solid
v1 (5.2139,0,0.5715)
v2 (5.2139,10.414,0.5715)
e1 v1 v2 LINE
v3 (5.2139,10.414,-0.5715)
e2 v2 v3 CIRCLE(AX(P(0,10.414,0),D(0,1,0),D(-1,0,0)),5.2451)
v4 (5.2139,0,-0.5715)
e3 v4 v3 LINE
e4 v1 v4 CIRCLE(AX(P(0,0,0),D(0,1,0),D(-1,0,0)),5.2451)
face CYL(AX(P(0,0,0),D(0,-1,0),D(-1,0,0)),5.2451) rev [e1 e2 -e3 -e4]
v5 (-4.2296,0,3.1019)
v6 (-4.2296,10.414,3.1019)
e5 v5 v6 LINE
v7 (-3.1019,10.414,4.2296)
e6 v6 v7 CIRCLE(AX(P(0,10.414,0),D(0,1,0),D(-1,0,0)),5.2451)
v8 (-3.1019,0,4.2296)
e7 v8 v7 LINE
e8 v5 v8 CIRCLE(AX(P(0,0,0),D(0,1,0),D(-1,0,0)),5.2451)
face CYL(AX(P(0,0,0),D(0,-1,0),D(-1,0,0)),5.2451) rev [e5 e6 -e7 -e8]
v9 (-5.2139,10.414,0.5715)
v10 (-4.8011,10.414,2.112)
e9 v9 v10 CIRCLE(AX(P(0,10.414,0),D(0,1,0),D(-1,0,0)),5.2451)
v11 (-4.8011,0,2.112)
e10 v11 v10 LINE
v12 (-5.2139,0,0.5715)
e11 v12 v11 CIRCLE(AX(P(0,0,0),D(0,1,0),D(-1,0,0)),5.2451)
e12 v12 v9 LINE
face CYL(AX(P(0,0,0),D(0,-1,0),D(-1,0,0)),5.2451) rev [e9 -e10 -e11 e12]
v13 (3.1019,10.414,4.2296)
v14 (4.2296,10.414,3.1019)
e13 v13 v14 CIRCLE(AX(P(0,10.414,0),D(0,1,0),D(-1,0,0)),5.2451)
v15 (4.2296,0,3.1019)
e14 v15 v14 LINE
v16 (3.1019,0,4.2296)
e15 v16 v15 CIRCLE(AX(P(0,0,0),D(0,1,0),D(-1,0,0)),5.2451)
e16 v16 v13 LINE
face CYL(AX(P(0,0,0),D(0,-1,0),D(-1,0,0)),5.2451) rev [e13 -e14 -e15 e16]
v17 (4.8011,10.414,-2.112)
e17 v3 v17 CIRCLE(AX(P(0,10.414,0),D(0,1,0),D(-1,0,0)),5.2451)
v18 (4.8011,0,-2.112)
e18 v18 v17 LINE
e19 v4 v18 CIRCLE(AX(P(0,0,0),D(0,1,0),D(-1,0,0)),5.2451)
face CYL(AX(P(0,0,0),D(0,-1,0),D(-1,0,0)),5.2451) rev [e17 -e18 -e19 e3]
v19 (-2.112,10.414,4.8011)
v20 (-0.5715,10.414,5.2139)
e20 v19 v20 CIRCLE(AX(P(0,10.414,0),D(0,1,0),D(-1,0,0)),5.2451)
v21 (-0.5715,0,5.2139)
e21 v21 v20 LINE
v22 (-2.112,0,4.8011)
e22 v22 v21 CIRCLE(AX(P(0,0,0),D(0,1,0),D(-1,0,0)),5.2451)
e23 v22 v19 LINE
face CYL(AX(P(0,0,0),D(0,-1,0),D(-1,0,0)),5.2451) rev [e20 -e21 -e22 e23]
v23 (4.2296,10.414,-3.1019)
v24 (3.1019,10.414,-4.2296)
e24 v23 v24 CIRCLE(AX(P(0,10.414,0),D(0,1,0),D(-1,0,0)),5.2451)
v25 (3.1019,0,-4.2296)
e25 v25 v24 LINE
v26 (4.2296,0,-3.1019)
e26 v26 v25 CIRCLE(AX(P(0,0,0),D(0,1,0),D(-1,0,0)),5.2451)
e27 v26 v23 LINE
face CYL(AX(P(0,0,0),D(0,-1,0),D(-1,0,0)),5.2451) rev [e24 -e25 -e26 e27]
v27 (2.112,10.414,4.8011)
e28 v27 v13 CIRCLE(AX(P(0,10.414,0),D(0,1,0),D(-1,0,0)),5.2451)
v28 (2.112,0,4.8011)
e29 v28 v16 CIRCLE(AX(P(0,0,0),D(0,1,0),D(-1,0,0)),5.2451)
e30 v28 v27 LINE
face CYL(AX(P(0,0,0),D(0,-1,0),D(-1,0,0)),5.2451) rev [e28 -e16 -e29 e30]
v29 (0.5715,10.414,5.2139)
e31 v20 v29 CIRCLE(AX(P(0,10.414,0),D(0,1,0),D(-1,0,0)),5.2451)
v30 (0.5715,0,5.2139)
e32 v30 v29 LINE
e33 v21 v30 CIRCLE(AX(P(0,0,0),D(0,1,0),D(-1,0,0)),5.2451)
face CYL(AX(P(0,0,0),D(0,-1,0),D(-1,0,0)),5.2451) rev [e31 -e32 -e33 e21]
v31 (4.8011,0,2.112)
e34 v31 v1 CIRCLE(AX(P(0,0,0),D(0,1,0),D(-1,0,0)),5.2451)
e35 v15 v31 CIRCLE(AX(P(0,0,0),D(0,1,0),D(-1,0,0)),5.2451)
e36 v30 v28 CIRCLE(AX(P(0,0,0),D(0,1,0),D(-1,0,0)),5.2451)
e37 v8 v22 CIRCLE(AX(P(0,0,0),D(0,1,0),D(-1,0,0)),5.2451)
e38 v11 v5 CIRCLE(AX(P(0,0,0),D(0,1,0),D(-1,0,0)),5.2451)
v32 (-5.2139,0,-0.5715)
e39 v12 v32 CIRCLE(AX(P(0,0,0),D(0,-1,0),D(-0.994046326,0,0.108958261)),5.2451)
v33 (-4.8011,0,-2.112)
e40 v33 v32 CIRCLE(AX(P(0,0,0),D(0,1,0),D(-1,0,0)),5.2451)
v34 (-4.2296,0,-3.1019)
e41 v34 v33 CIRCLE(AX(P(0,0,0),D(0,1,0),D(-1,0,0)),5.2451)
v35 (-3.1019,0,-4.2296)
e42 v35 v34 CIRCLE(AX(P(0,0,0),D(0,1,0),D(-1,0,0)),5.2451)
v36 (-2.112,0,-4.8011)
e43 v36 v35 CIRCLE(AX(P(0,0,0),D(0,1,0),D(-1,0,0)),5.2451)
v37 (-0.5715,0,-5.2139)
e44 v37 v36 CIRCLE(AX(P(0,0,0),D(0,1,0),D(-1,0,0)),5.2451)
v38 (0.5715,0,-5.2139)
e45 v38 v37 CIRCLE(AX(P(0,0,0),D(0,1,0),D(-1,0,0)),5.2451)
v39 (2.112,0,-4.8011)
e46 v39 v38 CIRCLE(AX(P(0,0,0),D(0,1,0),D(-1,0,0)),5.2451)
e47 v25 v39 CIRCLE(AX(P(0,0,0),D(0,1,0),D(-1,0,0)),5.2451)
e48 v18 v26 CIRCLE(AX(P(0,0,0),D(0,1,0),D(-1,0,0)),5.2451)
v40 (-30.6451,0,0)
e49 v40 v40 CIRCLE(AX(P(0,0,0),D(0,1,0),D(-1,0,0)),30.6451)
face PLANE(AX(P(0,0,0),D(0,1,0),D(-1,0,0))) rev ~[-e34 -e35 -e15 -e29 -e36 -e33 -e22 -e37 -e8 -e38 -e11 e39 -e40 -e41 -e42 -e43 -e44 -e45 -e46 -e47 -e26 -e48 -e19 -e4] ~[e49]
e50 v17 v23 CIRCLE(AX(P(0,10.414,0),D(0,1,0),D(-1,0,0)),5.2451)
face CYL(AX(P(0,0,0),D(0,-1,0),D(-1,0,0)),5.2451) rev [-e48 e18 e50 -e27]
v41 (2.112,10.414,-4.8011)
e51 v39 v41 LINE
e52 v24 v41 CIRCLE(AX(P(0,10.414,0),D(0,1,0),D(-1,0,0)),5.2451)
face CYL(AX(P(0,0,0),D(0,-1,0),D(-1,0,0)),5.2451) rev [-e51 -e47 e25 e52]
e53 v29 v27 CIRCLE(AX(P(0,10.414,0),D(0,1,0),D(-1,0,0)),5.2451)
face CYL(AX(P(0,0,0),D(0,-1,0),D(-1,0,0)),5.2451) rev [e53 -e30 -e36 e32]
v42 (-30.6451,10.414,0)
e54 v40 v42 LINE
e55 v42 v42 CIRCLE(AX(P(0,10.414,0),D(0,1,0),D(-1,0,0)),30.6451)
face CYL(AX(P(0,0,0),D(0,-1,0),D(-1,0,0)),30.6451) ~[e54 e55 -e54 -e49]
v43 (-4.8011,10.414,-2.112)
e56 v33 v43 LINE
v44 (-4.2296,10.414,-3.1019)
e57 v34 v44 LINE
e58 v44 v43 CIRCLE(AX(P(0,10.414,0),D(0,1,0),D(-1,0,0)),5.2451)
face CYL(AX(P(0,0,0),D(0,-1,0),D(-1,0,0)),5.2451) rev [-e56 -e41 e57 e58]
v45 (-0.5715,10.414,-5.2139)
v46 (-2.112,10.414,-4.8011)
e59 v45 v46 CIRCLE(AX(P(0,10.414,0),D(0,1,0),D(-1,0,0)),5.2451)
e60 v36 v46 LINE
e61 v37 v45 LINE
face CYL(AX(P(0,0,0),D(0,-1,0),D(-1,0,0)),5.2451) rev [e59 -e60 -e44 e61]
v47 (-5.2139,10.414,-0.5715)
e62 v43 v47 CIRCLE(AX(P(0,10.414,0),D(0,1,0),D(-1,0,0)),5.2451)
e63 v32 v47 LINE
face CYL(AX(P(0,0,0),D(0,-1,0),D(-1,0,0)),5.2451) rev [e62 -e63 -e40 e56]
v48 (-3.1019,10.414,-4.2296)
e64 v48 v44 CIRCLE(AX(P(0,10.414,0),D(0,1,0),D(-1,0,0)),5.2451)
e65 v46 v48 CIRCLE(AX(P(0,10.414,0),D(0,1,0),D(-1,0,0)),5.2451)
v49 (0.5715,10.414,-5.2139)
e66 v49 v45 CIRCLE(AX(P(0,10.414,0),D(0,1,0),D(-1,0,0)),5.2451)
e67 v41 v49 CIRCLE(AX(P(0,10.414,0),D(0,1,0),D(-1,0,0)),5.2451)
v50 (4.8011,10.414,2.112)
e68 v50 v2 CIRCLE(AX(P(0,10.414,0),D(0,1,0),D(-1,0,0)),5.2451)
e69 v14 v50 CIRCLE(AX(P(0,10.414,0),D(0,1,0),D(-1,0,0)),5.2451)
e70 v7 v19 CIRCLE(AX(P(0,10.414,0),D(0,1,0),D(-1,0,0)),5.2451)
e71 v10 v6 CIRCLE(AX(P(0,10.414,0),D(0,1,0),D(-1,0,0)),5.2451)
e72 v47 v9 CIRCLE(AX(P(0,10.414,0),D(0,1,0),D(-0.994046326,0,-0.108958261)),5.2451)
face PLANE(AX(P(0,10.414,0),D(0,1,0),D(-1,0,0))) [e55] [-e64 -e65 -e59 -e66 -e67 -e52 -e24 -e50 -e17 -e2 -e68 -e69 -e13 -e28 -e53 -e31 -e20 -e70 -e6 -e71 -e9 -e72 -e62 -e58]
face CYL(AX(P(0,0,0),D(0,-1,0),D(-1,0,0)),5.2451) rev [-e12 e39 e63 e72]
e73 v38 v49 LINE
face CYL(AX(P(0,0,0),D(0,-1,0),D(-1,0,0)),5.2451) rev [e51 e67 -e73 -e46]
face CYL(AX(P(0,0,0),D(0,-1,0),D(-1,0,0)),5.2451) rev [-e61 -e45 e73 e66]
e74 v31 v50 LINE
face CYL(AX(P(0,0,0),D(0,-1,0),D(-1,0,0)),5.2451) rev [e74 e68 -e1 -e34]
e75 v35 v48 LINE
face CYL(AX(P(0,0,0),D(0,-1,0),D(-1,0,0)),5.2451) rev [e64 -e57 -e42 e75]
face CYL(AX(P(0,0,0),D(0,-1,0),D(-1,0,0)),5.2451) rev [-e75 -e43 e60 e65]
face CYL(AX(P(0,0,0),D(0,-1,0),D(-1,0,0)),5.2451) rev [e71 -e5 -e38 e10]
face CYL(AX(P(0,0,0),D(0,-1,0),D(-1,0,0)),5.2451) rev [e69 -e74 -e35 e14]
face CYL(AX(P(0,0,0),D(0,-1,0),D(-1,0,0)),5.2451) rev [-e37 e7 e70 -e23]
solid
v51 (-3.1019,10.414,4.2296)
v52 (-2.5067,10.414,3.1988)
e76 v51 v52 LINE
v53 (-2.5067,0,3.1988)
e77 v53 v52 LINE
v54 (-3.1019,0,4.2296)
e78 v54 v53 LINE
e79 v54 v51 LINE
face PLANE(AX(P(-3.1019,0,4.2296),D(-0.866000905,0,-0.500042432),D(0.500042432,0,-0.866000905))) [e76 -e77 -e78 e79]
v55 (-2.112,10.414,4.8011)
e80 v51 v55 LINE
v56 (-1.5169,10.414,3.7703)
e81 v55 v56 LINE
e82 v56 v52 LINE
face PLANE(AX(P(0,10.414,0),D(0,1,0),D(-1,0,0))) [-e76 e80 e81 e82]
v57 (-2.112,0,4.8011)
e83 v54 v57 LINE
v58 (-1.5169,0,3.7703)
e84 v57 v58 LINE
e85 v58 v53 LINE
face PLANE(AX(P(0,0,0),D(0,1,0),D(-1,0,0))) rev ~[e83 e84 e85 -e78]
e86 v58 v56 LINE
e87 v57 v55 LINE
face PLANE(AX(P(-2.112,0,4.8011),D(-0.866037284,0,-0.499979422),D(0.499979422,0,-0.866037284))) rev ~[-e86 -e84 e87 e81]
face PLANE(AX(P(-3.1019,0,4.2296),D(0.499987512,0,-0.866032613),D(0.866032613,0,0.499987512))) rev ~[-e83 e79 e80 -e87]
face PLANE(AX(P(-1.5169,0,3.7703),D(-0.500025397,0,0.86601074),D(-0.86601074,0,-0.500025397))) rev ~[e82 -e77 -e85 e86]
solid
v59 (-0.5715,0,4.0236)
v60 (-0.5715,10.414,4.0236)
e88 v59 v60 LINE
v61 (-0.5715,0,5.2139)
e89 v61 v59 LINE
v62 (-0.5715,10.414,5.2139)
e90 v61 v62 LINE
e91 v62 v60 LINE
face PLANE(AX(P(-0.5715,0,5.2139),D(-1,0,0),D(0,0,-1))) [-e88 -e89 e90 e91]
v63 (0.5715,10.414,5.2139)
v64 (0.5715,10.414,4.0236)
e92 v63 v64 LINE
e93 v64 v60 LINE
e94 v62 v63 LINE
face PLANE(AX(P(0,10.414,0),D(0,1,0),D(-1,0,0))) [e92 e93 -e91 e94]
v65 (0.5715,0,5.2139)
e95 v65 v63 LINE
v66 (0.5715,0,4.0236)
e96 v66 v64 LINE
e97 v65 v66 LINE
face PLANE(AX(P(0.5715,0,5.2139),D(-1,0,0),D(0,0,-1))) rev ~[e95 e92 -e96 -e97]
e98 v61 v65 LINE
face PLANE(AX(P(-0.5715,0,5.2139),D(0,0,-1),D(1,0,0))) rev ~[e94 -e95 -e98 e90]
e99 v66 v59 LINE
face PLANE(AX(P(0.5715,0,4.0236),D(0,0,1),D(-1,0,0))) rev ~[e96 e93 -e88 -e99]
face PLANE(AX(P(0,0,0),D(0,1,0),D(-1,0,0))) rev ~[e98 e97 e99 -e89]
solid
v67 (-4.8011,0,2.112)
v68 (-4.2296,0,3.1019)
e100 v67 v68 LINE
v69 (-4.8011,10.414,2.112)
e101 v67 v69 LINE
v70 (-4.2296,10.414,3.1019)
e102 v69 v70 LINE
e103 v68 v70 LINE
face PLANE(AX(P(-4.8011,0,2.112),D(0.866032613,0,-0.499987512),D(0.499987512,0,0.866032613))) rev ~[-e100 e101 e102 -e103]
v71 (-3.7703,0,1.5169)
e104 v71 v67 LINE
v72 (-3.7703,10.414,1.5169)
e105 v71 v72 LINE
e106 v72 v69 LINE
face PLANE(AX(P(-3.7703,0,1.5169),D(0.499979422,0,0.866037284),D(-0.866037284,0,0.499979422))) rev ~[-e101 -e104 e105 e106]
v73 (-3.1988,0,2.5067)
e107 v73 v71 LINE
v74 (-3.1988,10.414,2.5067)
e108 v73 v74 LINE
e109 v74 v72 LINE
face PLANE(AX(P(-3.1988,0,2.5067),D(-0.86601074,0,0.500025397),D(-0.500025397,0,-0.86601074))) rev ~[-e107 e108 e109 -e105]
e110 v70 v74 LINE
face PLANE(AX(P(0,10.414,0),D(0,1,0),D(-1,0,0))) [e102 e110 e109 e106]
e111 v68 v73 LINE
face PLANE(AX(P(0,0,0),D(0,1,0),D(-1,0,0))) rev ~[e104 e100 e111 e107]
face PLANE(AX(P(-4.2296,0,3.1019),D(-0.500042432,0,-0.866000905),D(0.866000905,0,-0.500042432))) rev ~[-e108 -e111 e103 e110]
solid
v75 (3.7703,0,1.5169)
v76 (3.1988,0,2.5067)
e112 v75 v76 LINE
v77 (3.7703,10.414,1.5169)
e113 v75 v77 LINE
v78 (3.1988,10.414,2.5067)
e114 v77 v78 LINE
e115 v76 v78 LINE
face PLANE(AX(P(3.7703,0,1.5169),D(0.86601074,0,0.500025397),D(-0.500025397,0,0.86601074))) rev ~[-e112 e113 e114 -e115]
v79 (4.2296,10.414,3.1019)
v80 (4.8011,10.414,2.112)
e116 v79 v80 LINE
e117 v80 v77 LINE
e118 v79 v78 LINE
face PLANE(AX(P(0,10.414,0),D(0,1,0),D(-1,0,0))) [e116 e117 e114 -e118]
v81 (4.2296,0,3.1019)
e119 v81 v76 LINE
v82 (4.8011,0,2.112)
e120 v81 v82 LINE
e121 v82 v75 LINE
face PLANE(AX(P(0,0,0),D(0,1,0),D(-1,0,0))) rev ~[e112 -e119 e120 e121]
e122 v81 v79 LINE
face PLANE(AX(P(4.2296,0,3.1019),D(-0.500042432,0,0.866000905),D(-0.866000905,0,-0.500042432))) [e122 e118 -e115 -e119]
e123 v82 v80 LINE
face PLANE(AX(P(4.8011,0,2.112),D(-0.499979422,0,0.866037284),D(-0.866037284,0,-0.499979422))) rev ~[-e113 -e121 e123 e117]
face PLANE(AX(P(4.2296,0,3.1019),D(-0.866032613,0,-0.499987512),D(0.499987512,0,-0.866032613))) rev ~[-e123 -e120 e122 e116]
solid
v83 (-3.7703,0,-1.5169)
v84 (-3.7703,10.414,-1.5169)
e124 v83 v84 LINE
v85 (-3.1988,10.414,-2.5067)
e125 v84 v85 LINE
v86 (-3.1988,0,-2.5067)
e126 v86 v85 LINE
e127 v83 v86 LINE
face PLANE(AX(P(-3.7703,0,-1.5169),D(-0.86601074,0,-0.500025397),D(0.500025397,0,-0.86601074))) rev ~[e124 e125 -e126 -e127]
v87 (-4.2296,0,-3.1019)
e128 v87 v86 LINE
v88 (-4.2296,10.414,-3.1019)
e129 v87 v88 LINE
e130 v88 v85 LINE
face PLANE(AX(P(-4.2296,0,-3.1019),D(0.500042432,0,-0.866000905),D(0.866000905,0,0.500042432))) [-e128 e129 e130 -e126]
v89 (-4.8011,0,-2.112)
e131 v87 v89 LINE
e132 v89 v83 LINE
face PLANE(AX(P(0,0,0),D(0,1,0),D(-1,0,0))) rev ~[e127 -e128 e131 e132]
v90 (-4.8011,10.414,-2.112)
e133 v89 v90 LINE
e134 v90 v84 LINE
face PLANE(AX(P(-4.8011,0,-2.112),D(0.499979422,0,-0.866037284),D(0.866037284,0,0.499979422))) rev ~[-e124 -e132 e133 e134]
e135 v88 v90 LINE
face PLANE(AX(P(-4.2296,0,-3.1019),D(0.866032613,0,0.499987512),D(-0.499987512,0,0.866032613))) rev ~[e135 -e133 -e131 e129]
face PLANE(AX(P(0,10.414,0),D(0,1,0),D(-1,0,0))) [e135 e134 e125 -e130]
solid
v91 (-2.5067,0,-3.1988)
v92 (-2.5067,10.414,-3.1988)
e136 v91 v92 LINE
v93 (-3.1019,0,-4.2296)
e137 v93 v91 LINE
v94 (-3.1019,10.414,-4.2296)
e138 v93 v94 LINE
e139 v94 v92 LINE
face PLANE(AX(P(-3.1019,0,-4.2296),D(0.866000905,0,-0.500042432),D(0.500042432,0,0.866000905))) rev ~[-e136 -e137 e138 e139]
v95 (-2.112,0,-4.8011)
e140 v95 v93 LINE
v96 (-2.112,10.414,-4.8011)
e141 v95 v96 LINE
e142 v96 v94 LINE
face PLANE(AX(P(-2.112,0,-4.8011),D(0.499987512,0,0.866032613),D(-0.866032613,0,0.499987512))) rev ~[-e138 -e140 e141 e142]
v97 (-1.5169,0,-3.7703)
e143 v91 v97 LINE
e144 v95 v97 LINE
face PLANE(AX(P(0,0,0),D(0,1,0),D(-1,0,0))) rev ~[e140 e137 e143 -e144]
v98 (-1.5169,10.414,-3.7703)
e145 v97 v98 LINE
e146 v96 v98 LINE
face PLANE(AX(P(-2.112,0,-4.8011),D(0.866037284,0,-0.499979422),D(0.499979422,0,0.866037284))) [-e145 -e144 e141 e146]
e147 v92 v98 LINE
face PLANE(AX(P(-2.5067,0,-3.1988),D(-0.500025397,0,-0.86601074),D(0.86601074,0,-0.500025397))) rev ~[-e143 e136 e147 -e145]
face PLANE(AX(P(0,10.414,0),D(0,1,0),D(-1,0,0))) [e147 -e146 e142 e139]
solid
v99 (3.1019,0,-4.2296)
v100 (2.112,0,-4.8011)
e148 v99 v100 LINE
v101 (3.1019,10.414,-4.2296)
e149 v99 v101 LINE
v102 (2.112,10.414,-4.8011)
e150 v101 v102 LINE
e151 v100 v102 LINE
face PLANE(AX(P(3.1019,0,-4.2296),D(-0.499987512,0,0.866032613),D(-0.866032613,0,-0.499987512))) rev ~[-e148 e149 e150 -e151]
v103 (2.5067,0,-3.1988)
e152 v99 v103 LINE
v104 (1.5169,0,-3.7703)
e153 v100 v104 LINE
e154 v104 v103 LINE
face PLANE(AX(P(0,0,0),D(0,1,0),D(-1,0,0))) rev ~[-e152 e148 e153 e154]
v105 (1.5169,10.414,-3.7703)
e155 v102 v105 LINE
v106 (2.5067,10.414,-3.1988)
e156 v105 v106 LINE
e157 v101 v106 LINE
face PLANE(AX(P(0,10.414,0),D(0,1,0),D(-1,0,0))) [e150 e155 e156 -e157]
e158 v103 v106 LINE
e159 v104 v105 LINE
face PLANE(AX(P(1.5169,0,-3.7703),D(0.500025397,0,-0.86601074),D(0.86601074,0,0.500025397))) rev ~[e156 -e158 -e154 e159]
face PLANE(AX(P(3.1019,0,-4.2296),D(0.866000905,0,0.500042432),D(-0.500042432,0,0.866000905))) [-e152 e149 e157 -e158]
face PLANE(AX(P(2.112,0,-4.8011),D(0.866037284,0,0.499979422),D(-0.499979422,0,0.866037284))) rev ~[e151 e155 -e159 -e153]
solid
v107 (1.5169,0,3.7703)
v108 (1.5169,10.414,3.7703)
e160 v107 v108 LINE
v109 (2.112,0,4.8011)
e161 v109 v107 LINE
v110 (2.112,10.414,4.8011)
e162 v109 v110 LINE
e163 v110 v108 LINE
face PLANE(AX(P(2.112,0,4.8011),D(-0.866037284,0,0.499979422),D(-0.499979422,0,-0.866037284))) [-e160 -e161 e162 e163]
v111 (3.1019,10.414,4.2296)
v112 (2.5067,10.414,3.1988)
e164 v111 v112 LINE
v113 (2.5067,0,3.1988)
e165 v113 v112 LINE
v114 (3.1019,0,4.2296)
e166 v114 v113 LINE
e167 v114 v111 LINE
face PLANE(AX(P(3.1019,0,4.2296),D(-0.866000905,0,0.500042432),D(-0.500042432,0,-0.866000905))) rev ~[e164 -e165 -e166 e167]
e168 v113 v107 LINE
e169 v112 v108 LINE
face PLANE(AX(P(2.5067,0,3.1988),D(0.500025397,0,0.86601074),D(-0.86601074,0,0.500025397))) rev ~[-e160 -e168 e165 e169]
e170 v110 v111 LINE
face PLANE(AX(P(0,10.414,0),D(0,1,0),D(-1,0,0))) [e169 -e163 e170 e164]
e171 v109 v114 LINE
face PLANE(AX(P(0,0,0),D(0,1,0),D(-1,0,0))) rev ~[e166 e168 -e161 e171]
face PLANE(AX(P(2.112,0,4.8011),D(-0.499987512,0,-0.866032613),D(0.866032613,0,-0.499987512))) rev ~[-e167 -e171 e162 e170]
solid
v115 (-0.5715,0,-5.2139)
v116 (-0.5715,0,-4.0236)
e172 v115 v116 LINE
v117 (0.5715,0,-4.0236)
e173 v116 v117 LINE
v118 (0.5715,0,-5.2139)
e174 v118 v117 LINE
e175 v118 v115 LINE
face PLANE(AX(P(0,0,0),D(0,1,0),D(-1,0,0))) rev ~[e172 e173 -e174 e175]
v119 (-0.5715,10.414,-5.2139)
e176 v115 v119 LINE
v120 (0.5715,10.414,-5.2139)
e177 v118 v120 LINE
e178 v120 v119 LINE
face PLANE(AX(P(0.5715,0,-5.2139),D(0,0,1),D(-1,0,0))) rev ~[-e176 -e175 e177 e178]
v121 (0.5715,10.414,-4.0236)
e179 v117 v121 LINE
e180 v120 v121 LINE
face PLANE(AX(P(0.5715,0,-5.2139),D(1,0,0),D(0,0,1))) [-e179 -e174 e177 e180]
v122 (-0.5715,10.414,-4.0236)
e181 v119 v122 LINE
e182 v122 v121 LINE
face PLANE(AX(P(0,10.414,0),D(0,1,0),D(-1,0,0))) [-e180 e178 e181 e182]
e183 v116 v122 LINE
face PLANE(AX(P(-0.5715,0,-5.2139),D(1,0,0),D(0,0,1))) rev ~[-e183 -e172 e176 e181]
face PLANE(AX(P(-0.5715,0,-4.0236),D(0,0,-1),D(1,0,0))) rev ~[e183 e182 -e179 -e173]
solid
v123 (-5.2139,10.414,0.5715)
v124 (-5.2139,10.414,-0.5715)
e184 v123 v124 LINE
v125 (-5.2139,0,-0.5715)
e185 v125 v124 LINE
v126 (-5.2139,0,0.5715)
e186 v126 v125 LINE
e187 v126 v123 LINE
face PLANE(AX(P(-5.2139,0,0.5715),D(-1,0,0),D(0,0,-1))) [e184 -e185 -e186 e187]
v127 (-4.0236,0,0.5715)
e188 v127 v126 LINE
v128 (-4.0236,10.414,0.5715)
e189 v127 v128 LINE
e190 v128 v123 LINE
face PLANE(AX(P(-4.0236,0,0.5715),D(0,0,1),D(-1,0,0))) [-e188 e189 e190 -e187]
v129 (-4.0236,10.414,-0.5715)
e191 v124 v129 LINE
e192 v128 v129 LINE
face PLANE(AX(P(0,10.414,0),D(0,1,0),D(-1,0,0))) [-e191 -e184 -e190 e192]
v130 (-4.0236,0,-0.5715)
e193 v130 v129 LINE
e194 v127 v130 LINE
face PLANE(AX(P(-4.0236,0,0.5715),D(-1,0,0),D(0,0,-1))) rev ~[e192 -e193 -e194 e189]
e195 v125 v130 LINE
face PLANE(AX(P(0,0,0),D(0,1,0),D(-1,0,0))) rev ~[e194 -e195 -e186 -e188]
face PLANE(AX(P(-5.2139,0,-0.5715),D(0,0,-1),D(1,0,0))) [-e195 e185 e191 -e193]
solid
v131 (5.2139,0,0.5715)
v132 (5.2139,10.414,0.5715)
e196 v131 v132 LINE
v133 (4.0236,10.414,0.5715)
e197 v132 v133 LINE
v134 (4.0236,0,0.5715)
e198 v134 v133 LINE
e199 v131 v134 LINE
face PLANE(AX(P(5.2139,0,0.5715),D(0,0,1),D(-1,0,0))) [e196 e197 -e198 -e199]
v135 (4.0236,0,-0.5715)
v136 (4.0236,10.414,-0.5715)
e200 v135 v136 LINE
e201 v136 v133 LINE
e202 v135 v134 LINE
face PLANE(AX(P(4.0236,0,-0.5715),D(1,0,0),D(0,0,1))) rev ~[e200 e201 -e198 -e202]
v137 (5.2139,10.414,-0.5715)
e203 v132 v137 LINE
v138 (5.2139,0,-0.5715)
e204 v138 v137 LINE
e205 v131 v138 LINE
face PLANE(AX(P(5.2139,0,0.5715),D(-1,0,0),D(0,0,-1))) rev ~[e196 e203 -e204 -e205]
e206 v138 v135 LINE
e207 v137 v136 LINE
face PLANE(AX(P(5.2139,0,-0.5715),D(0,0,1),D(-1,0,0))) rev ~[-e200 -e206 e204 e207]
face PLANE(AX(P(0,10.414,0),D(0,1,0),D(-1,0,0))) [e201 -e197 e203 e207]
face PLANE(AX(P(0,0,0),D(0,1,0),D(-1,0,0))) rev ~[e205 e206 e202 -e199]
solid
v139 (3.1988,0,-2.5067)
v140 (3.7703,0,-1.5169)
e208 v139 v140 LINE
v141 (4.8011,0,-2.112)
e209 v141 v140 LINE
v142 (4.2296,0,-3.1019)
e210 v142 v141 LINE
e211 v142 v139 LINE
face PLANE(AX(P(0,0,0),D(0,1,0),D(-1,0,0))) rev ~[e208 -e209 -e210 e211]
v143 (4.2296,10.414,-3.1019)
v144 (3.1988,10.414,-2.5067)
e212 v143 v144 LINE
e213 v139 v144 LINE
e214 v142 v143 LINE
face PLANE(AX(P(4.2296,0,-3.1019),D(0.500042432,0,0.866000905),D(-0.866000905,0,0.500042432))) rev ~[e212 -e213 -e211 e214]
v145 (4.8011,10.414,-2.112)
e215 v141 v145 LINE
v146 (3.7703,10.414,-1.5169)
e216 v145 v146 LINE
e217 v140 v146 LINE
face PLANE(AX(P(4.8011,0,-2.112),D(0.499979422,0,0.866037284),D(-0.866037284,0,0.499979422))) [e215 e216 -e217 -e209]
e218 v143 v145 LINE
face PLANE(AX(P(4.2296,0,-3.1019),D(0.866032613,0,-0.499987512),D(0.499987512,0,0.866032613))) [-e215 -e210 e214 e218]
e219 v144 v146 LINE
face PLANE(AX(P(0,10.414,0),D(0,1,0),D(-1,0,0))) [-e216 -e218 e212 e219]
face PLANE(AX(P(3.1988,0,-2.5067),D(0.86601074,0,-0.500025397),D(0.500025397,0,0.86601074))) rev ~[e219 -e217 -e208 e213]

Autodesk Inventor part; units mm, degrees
ref_plane "YZ Plane" through (0, 0, 0) normal (1, 0, 0) x (0, 1, 0)
ref_plane "XZ Plane" through (0, 0, 0) normal (0, 1, 0) x (-1, 0, 0)
ref_plane "XY Plane" through (0, 0, 0) normal (0, 0, 1) x (1, 0, 0)
sketch "Sketch1" plane through (0, 0, 0) normal (0, 1, 0) x (-1, 0, 0)
  circle A0 centre (0, 0) radius 5.2451
  circle A1 centre (0, 0) radius 4.064 construction
  line L0 (4.0236, 0.5715) -> (5.2139, 0.5715)
  line L1 (5.2139, -0.5715) -> (4.0236, -0.5715)
  line L2 (3.7703, 1.5169) -> (4.8011, 2.112)
  line L3 (4.2296, 3.1019) -> (3.1988, 2.5067)
  line L4 (3.1019, 4.2296) -> (2.5067, 3.1988)
  line L5 (2.112, 4.8011) -> (1.5169, 3.7703)
  line L6 (-0.5715, 5.2139) -> (-0.5715, 4.0236)
  line L7 (-2.112, 4.8011) -> (-1.5169, 3.7703)
  line L8 (-3.1019, 4.2296) -> (-2.5067, 3.1988)
  line L9 (-4.8011, 2.112) -> (-3.7703, 1.5169)
  line L10 (-4.2296, 3.1019) -> (-3.1988, 2.5067)
  line L11 (-5.2139, 0.5715) -> (-4.0236, 0.5715)
  line L12 (-5.2139, -0.5715) -> (-4.0236, -0.5715)
  line L13 (-4.8011, -2.112) -> (-3.7703, -1.5169)
  line L14 (-4.2296, -3.1019) -> (-3.1988, -2.5067)
  line L15 (-3.1019, -4.2296) -> (-2.5067, -3.1988)
  line L16 (-2.112, -4.8011) -> (-1.5169, -3.7703)
  line L17 (-0.5715, -5.2139) -> (-0.5715, -4.0236)
  line L18 (0.5715, -5.2139) -> (0.5715, -4.0236)
  line L19 (3.1019, -4.2296) -> (2.5067, -3.1988)
  line L20 (2.112, -4.8011) -> (1.5169, -3.7703)
  line L21 (4.2296, -3.1019) -> (3.1988, -2.5067)
  line L22 (4.8011, -2.112) -> (3.7703, -1.5169)
  line L23 (0.5715, 5.2139) -> (0.5715, 4.0236)
  circle A2 centre (0, 0) radius 30.6451
  circle A3 centre (0, 0) radius 4.064
  line L24 (5.2139, 0.5715) -> (5.2139, -0.5715)
  line L25 (4.0236, 0.5715) -> (4.0236, -0.5715)
  line L26 (3.7703, -1.5169) -> (3.1988, -2.5067)
  line L27 (2.5067, -3.1988) -> (1.5169, -3.7703)
  line L28 (0.5715, -4.0236) -> (-0.5715, -4.0236)
  line L29 (-1.5169, -3.7703) -> (-2.5067, -3.1988)
  line L30 (-3.1988, -2.5067) -> (-3.7703, -1.5169)
  line L31 (-4.0236, -0.5715) -> (-4.0236, 0.5715)
  line L32 (-3.7703, 1.5169) -> (-3.1988, 2.5067)
  line L33 (-2.5067, 3.1988) -> (-1.5169, 3.7703)
  line L34 (-0.5715, 4.0236) -> (0.5715, 4.0236)
  line L35 (1.5169, 3.7703) -> (2.5067, 3.1988)
  line L36 (3.1988, 2.5067) -> (3.7703, 1.5169)
  line L37 (3.7703, 1.5169) -> (4.8011, 2.112)
  line L38 (4.8011, 2.112) -> (4.2296, 3.1019)
  line L39 (3.1019, 4.2296) -> (2.112, 4.8011)
  line L40 (0.5715, 5.2139) -> (-0.5715, 5.2139)
  line L41 (-2.112, 4.8011) -> (-3.1019, 4.2296)
  line L42 (-4.2296, 3.1019) -> (-4.8011, 2.112)
  line L43 (-5.2139, 0.5715) -> (-5.2139, -0.5715)
  line L44 (-3.1019, -4.2296) -> (-2.112, -4.8011)
  line L45 (-4.2296, -3.1019) -> (-4.8011, -2.112)
  line L46 (-0.5715, -5.2139) -> (0.5715, -5.2139)
  line L47 (2.112, -4.8011) -> (3.1019, -4.2296)
  line L48 (4.2296, -3.1019) -> (4.8011, -2.112)
  dimension "d0" = 10.4902
  dimension "d1" = 8.128
  dimension "d4" = 1.143
  dimension "d5" = 1.143
  dimension "d6" = 1.143
  dimension "d7" = 1.143
  dimension "d8" = 1.143
  dimension "d9" = 1.143
  dimension "d11" = 1.143
  dimension "d12" = 30
  dimension "d15" = 30
  dimension "d18" = 30
  dimension "d20" = 1.143
  dimension "d21" = 30
  dimension "d22" = 30
  dimension "d23" = 30
  dimension "d28" = 1.143
  dimension "d29" = 30
  dimension "d30" = 30
  dimension "d31" = 1.143
  dimension "d32" = 30
  dimension "d34" = 1.143
  dimension "d35" = 25.4
extrude "Extrusion1" add sketch "Sketch1" along normal blind 10.414 contours L24 L1 A3 L0 | L2 A3 L3 L38 | A3 L25 | L48 L21 A3 L22 | L36 A3 | A3 L26 | L4 A3 L5 L39 | L47 L20 A3 L19 | L35 A3 | A3 L27 | L23 A3 L6 L40 | L46 L17 A3 L18 | L34 A3 | A3 L28 | L7 A3 L8 L41 | L44 L15 A3 L16 | L33 A3 | A3 L29 | L10 A3 L9 L42 | L45 L13 A3 L14 | L32 A3 | A3 L30 | L11 A3 L12 L43 | L31 A3 | A2
properties part number "Protector"
